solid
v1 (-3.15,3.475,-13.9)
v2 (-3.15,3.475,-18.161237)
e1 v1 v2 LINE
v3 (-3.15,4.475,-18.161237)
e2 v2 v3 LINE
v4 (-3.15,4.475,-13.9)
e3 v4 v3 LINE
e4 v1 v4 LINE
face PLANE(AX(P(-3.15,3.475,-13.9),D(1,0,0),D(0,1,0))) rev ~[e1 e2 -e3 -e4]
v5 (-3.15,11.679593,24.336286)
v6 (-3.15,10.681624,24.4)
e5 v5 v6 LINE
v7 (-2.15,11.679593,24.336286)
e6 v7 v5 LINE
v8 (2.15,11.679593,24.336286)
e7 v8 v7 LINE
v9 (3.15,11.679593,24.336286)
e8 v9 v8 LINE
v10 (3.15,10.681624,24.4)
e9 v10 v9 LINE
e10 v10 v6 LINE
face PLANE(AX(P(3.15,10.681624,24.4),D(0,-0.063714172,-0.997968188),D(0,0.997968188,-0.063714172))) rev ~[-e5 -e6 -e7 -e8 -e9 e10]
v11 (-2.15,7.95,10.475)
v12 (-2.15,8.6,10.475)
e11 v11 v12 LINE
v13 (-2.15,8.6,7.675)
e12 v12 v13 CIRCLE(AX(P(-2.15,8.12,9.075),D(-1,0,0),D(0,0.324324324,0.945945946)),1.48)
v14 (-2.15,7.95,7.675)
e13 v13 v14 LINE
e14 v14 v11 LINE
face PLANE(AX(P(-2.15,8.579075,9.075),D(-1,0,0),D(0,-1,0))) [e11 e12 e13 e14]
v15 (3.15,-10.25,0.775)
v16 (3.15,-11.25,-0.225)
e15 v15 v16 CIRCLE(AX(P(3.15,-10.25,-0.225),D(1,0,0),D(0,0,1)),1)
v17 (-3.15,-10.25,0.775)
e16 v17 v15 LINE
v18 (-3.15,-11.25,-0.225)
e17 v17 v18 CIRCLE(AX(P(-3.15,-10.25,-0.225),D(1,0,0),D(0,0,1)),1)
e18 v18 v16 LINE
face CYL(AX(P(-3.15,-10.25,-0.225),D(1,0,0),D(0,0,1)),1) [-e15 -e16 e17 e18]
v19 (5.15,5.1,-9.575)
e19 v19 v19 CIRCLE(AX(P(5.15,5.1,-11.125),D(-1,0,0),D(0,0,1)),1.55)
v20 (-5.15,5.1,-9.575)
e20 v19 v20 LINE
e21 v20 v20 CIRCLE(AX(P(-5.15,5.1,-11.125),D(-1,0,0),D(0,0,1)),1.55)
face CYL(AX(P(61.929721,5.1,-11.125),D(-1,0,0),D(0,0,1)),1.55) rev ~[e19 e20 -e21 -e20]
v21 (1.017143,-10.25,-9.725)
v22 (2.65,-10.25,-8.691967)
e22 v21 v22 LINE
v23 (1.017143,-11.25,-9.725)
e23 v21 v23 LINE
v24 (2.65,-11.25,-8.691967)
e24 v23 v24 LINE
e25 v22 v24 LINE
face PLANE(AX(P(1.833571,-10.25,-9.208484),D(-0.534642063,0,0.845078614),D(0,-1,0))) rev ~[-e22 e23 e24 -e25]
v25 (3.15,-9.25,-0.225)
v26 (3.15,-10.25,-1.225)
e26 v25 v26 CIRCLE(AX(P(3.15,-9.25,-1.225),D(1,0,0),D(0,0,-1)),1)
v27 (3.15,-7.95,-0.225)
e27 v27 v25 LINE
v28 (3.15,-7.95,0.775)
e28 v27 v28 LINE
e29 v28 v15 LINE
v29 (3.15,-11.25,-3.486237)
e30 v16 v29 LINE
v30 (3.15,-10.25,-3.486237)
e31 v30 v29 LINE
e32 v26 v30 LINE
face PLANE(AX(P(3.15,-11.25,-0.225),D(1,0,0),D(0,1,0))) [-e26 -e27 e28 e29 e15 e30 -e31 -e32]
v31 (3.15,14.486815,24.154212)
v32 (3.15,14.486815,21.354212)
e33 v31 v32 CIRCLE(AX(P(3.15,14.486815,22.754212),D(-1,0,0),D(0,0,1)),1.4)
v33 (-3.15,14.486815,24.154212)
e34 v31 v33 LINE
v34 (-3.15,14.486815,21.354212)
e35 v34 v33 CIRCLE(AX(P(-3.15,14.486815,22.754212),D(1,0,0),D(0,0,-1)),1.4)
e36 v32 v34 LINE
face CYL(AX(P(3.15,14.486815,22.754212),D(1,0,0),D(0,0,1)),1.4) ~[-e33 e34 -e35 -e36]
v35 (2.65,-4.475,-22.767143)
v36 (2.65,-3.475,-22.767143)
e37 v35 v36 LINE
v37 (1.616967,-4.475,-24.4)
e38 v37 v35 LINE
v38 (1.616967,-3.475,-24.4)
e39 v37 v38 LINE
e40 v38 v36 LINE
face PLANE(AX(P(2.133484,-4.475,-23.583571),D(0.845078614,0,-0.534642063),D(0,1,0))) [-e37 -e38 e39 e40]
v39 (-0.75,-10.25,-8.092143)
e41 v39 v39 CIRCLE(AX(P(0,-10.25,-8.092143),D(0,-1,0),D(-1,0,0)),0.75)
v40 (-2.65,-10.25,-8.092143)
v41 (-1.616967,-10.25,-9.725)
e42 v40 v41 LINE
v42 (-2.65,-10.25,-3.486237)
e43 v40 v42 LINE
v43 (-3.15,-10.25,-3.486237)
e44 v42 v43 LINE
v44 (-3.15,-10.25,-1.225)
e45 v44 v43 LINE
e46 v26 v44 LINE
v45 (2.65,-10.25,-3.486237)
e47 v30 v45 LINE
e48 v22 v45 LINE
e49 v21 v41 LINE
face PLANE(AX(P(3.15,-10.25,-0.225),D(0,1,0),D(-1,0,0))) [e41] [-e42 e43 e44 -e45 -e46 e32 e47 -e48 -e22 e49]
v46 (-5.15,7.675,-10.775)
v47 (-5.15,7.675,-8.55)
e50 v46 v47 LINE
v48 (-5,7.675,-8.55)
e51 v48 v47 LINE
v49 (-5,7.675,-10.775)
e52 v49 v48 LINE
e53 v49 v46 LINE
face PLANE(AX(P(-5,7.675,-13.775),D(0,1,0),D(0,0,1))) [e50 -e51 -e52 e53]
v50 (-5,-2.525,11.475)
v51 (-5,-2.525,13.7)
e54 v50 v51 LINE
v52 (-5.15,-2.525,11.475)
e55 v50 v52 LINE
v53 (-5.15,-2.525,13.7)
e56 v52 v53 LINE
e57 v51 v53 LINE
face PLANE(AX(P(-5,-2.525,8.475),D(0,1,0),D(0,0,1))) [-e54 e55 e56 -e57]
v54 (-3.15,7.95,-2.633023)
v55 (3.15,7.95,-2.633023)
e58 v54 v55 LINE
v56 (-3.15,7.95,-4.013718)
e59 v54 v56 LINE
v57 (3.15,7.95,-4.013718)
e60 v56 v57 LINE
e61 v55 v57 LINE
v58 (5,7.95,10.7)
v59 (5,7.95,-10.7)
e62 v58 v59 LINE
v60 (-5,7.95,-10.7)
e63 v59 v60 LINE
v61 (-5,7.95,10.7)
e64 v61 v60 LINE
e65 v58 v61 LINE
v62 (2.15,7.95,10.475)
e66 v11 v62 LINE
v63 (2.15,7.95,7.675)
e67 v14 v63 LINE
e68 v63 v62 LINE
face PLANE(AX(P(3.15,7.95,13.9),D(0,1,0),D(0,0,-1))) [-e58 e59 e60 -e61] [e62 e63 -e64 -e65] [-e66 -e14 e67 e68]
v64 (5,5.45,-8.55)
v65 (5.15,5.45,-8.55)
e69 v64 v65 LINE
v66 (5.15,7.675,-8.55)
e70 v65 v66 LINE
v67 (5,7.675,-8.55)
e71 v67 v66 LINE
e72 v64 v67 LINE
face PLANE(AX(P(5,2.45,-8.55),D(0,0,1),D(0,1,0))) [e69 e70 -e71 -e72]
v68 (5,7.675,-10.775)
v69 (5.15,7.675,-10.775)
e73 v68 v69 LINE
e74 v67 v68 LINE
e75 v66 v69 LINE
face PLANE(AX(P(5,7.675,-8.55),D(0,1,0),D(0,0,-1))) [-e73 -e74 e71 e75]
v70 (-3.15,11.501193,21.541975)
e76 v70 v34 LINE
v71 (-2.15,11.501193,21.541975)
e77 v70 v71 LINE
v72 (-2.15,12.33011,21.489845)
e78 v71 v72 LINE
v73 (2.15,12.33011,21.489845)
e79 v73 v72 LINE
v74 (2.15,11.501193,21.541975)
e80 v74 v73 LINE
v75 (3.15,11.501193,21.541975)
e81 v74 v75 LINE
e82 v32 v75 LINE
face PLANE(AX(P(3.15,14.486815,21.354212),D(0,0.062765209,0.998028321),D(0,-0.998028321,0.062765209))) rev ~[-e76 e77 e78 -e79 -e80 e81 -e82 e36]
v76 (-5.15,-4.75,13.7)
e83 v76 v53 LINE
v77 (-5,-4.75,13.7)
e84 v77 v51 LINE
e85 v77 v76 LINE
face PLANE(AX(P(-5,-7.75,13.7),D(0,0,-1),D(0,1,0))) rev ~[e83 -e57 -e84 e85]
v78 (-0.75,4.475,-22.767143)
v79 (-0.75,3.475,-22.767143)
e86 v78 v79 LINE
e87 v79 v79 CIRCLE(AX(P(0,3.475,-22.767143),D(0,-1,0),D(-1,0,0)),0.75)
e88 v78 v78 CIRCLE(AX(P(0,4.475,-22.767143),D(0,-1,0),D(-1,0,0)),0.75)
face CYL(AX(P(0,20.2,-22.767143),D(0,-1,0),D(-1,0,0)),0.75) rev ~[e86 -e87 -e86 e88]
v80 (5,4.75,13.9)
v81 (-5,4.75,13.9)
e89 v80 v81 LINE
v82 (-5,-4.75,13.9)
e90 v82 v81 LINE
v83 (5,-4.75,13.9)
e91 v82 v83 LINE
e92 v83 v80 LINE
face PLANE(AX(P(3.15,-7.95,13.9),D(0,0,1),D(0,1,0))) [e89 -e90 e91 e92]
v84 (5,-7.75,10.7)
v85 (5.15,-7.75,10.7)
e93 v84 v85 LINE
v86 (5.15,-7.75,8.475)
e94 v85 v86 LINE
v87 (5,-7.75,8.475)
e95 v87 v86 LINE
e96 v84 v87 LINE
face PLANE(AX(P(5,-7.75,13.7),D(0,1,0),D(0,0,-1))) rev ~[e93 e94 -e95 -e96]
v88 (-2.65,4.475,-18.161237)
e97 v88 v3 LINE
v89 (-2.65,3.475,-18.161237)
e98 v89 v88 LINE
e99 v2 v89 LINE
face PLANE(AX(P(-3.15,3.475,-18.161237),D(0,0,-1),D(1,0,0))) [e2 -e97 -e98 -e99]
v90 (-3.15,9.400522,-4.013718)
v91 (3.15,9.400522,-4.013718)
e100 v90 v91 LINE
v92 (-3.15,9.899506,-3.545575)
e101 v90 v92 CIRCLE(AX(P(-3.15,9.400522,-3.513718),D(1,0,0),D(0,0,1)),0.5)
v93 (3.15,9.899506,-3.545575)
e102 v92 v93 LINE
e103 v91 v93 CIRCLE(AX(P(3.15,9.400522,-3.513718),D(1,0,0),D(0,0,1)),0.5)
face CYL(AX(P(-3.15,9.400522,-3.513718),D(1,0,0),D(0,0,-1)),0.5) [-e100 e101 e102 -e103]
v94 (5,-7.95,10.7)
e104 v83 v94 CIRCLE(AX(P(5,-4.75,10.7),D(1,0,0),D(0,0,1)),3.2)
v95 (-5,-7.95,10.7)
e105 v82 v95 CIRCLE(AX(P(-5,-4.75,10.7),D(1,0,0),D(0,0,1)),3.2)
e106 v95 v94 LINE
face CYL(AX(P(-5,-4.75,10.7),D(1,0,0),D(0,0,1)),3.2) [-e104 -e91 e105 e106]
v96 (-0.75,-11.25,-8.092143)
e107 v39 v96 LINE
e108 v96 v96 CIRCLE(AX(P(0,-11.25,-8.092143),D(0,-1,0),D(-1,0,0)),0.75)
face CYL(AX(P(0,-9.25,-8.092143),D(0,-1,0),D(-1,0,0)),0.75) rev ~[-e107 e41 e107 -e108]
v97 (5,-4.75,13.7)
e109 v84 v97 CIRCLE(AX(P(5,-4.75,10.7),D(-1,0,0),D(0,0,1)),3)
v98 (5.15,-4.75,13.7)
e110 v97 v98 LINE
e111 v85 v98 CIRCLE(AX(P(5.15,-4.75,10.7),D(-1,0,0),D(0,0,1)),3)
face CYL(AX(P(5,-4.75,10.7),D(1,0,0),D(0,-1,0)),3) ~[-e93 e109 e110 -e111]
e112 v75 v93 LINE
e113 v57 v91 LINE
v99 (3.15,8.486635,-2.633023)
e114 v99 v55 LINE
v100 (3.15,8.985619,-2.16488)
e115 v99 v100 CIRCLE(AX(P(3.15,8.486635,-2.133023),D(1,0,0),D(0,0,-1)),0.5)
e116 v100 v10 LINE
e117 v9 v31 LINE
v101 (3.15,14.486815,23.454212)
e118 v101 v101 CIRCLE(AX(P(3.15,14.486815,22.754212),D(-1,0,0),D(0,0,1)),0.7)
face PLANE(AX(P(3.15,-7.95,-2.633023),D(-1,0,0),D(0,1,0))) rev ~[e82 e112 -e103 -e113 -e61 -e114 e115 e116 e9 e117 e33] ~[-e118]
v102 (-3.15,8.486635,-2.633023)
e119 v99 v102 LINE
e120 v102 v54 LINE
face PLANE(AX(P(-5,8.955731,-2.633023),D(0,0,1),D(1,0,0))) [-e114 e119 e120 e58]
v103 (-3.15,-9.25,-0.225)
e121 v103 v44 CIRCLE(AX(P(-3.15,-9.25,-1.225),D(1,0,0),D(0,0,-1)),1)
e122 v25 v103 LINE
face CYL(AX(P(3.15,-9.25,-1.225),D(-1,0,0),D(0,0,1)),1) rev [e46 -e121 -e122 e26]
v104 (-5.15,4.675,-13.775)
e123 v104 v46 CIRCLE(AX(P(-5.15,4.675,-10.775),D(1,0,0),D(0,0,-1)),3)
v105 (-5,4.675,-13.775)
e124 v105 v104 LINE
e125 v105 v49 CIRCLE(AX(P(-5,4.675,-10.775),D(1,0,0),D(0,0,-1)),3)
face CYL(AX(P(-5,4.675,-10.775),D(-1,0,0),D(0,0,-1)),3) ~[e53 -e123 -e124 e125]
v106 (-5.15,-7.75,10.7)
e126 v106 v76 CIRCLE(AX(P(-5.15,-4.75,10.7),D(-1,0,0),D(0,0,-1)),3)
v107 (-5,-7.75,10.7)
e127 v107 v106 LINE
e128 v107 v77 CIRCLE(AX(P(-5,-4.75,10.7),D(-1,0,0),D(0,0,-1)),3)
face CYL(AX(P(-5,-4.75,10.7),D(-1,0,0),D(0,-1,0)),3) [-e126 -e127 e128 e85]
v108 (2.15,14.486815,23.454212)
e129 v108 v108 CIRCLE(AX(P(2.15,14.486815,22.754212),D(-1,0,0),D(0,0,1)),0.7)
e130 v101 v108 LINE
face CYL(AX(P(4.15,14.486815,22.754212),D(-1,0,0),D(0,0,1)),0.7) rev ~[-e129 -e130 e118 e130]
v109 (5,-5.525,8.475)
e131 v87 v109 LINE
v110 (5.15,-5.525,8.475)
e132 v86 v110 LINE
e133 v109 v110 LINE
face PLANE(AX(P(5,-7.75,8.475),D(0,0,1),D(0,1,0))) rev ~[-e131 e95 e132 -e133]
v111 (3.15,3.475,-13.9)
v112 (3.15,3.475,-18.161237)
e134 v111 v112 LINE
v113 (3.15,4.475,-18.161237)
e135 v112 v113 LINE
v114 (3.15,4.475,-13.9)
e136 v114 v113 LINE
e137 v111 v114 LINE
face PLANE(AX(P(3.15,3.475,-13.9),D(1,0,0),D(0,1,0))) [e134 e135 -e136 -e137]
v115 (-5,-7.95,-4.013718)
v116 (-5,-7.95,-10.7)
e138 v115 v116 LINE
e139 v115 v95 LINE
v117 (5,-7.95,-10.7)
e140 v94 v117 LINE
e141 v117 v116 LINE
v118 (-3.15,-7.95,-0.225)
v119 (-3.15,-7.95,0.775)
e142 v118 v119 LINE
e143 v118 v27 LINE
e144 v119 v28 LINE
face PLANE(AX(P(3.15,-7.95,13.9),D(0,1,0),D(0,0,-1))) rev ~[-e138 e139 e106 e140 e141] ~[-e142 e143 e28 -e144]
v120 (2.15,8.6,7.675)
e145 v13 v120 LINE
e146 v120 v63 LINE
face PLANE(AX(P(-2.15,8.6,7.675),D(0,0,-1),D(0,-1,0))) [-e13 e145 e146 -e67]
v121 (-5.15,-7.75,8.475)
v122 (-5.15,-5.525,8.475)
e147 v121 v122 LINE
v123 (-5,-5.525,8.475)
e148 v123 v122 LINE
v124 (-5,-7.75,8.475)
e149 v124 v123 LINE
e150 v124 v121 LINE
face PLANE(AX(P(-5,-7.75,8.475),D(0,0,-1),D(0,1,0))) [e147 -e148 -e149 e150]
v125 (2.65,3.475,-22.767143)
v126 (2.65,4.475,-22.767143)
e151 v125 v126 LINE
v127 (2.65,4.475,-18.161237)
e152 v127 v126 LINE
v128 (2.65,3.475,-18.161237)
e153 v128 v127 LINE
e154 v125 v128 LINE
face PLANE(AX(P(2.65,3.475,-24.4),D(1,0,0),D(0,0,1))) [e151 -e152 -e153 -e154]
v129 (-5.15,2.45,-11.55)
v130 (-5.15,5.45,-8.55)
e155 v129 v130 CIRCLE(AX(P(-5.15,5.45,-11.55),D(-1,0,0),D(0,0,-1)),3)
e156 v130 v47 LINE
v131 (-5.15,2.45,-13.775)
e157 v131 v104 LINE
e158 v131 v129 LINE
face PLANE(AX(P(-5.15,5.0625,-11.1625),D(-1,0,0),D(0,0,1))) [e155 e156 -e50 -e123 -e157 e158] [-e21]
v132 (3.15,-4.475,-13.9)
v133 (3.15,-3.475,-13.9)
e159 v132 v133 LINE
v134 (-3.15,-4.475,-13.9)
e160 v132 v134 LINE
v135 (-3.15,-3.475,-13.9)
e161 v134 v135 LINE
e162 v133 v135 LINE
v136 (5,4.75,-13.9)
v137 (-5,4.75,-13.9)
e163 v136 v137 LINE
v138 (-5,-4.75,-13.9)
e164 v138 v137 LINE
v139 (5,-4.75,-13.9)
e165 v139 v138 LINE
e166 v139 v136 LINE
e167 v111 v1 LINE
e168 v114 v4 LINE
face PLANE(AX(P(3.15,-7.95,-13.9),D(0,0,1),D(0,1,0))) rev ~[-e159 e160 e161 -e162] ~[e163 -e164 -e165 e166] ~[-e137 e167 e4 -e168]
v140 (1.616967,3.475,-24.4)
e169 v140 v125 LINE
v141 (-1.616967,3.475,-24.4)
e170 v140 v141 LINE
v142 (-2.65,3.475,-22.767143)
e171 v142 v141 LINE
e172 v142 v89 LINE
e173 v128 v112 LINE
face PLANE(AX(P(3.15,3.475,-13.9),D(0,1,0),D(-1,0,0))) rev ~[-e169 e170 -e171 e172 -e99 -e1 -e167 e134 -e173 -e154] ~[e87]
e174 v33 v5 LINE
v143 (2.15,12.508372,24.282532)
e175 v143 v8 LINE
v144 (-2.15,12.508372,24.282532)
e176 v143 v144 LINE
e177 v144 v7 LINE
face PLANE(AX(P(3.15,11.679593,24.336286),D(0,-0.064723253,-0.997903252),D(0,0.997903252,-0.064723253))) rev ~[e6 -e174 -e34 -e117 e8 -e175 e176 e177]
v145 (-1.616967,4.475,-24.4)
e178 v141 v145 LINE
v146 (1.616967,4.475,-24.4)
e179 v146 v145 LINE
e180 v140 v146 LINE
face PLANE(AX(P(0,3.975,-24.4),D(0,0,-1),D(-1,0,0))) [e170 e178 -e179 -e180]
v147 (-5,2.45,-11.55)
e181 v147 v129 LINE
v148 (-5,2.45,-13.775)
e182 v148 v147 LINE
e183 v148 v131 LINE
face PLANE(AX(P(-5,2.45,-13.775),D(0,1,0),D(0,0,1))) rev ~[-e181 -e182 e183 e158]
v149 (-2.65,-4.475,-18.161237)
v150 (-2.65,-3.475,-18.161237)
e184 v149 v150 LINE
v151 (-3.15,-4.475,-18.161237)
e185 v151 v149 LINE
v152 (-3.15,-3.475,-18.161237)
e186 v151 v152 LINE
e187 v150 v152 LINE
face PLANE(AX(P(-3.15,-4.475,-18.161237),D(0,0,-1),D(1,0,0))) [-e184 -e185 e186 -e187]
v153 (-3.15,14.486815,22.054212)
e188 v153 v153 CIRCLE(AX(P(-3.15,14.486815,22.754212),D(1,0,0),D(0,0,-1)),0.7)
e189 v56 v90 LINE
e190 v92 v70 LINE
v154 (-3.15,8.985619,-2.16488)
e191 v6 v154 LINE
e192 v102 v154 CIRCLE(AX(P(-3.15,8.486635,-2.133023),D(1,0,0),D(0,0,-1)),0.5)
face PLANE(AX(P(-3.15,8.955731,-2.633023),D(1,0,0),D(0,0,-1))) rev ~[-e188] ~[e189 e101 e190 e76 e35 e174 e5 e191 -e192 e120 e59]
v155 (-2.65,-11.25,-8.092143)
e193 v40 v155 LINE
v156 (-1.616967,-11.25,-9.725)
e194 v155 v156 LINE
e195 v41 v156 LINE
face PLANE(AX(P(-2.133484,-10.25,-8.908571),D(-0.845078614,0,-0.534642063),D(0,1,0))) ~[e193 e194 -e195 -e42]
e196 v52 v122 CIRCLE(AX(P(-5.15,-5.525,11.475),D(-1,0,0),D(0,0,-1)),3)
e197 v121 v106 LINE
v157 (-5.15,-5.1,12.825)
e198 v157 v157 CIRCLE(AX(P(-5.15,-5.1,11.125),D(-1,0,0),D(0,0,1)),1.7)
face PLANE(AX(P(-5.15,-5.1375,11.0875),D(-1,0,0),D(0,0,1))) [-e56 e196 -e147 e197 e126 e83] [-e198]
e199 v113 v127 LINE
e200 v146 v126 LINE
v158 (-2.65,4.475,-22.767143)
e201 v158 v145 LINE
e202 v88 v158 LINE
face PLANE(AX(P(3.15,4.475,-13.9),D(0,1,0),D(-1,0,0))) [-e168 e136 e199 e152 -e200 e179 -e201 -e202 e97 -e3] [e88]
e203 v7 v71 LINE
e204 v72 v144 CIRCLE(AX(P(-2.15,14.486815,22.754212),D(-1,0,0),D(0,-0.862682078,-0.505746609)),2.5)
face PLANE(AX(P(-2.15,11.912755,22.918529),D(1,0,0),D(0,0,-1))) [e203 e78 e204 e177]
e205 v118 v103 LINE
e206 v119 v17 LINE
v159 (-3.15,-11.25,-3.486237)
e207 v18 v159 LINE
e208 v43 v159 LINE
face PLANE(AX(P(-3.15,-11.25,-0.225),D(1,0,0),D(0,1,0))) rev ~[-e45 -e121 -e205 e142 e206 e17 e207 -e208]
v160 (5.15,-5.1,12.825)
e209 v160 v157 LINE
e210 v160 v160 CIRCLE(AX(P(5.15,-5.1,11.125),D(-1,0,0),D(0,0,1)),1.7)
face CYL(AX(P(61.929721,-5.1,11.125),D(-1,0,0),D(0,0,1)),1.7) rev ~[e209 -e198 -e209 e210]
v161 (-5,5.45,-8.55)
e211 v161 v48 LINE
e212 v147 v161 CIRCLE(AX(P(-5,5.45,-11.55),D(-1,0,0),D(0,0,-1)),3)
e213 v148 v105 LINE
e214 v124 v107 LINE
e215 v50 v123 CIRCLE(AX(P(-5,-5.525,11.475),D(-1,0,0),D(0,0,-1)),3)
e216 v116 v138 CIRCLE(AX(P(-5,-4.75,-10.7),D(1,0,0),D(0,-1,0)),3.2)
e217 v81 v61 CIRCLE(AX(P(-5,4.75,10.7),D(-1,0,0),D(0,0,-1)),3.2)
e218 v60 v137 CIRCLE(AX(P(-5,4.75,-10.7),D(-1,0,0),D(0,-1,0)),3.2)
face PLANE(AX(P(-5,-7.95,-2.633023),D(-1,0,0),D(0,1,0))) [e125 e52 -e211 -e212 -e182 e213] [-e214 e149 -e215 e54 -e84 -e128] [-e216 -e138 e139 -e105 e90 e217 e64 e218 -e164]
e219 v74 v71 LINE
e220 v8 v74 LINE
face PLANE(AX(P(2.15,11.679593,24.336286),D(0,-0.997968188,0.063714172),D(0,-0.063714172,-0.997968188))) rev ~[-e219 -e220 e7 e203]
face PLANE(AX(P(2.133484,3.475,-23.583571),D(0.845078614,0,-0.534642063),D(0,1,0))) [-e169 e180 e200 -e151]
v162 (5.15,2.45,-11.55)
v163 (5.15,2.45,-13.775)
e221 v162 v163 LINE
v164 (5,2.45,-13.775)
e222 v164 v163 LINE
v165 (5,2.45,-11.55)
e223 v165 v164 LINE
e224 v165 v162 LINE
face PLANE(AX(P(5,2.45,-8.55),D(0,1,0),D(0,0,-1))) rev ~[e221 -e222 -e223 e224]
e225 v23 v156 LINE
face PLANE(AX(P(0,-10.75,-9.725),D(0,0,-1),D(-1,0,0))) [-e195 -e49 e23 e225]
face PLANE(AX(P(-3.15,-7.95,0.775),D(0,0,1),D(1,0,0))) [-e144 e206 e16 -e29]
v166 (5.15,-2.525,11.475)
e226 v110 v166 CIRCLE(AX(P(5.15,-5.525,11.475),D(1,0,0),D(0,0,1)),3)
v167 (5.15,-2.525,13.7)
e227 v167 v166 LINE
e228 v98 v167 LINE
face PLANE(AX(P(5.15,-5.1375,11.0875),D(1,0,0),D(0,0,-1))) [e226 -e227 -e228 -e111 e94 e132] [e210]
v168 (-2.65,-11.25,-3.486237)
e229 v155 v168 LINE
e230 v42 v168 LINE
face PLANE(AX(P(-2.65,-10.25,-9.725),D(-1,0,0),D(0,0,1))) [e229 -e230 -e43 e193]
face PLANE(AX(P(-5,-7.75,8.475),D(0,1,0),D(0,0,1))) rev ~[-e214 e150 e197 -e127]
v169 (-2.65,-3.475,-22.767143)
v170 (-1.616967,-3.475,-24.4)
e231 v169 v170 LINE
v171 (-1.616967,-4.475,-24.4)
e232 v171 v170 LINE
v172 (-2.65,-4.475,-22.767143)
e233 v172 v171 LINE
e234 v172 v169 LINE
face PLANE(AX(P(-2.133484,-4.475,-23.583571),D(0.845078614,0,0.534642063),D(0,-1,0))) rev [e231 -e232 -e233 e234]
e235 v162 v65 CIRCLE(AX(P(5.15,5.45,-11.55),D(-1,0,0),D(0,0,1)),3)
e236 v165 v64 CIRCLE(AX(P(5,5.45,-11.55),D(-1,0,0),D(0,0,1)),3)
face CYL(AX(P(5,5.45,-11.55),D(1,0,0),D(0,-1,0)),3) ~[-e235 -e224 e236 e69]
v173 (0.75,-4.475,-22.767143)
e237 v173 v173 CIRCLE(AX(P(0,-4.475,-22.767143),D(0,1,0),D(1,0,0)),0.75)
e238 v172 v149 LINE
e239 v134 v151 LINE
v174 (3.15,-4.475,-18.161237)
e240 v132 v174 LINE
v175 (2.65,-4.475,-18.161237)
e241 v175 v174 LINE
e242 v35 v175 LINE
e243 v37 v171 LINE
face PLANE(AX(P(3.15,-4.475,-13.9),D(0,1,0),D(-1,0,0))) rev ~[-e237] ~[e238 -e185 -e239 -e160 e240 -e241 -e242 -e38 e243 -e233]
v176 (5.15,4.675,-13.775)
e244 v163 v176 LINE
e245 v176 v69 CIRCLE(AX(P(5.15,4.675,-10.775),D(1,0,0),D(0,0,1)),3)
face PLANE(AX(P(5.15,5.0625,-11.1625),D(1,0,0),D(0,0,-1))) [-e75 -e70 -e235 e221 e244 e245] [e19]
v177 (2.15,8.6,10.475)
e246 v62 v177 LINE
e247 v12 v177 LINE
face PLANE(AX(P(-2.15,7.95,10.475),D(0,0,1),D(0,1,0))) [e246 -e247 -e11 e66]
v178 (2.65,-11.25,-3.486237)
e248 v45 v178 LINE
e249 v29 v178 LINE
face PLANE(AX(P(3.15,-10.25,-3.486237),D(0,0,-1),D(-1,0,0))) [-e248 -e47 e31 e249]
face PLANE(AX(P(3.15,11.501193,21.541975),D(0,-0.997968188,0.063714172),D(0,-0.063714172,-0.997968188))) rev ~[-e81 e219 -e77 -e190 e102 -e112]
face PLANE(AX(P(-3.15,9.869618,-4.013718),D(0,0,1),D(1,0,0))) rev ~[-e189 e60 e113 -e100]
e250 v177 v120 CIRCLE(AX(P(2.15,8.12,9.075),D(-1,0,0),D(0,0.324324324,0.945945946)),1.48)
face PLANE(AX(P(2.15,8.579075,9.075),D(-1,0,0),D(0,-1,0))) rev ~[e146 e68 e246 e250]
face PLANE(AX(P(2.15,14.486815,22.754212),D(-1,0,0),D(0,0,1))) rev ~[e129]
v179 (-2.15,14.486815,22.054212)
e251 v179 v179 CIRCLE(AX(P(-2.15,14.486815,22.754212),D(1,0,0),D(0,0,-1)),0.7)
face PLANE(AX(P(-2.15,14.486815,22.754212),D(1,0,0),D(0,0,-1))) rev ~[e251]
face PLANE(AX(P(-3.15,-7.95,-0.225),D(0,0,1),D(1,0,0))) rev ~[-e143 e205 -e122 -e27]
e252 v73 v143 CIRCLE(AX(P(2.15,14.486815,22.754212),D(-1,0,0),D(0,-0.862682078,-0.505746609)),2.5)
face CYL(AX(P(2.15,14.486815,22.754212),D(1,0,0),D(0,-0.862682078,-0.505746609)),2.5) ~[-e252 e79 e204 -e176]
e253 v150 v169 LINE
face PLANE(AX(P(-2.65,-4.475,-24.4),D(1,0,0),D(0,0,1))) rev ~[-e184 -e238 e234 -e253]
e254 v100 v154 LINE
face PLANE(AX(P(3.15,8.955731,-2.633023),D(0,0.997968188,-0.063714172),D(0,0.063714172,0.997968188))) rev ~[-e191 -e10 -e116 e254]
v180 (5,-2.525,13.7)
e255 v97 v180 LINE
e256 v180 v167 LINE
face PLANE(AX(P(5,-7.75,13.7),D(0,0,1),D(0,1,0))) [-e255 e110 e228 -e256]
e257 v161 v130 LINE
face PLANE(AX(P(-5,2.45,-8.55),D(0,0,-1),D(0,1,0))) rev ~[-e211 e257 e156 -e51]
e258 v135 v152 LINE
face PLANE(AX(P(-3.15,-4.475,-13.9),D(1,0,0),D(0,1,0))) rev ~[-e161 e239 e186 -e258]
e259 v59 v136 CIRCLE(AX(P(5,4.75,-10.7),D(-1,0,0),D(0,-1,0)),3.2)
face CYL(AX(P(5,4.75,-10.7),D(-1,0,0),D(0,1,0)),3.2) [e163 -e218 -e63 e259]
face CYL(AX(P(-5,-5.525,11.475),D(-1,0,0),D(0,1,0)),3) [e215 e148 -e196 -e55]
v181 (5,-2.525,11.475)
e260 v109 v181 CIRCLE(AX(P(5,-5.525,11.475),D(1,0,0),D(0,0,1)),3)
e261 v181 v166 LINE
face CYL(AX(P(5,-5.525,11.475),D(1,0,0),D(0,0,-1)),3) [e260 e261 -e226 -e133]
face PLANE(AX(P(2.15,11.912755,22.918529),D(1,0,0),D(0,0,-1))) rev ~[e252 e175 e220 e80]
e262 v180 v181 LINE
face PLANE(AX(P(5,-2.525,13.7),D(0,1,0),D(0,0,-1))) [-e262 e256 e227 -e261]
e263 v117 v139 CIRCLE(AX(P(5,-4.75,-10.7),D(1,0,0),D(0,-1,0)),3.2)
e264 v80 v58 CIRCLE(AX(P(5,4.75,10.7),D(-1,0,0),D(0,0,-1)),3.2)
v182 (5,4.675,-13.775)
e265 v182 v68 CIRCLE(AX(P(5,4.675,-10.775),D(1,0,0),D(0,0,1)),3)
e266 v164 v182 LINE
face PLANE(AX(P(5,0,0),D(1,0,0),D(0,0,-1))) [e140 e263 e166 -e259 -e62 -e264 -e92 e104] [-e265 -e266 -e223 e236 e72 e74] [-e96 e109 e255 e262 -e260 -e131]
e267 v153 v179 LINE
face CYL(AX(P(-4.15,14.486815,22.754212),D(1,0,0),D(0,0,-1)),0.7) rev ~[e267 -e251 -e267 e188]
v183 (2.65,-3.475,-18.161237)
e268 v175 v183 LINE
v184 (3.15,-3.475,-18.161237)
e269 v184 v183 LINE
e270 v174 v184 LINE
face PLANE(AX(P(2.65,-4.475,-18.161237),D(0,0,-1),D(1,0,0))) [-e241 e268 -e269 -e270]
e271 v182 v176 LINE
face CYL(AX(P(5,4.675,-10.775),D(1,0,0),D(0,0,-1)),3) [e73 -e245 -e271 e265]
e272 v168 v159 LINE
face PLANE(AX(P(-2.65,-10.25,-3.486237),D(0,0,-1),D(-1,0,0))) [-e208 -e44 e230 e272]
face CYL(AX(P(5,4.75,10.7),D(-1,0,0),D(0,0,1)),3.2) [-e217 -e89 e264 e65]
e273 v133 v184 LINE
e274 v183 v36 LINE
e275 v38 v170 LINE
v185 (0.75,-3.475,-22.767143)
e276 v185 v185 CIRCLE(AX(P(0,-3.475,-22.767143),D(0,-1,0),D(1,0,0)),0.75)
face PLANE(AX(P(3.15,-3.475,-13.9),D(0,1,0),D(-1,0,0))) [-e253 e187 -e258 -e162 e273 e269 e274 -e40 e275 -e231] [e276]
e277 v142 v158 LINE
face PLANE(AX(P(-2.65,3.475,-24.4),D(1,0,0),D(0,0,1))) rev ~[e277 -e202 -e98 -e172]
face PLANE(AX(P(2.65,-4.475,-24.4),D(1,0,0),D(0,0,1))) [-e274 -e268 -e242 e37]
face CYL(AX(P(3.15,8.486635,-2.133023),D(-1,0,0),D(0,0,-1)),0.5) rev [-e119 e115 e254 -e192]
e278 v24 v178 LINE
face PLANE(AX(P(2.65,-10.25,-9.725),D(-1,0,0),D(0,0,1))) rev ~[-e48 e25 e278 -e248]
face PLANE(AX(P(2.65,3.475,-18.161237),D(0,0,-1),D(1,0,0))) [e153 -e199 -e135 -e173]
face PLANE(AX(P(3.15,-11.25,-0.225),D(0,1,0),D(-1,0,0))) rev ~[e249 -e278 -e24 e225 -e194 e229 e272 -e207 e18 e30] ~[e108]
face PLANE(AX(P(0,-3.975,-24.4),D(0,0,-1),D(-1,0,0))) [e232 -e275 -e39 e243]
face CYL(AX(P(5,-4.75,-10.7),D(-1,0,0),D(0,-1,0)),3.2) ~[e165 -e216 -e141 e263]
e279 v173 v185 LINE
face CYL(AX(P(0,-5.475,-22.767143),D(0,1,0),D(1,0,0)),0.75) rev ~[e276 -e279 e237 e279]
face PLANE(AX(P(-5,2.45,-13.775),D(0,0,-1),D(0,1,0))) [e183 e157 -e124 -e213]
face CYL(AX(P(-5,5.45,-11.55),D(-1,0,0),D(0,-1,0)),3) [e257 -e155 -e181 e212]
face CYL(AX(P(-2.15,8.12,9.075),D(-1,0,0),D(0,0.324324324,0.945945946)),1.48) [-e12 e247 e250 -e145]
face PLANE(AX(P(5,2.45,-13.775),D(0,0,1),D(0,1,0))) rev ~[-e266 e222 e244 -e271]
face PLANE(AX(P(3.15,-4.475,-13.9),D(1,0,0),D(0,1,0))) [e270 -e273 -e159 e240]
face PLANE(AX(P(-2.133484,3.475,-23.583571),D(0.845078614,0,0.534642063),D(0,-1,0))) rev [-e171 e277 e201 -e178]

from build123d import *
from OCP.BRepFilletAPI import BRepFilletAPI_MakeChamfer

# Parameters (mm, degrees)
BOSS_EXTRUDE1_DEPTH        = 4.3
BOSS_EXTRUDE2_DEPTH        = 1
BOSS_EXTRUDE3_START        = 1
BOSS_EXTRUDE3_DEPTH        = 1
CUT_EXTRUDE1_DEPTH         = 4.3
SKETCH5_W                  = 1.380694599
SKETCH5_H                  = 0.913887033
BOSS_EXTRUDE4_DEPTH        = 1.85
SKETCH6_W                  = 8.15
SKETCH6_H                  = 1.380694599
BOSS_EXTRUDE5_DEPTH        = 16.905731032
SKETCH7_W                  = 8.15
SKETCH7_H                  = 17.819618065
BOSS_EXTRUDE6_DEPTH        = 9.886282081
CUT_EXTRUDE2_DEPTH         = 0.913887033
CUT_EXTRUDE3_DEPTH         = 1.005731032
SKETCH10_W                 = 8.15
SKETCH10_H                 = 15.9
BOSS_EXTRUDE7_DEPTH        = 16.53302332
SKETCH11_W                 = 27.8
SKETCH11_H                 = 15.9
BOSS_EXTRUDE8_DEPTH        = 1.85
SKETCH12_W                 = 6.3
SKETCH12_H                 = 1
BOSS_EXTRUDE9_DEPTH        = 3.3
SKETCH13_W                 = 6.3
SKETCH13_H                 = 1
BOSS_EXTRUDE10_DEPTH       = 9.5
SKETCH14_W                 = 0.5
SKETCH14_H                 = 6.238763167
CUT_EXTRUDE4_DEPTH         = 37.103920655
SKETCH15_W                 = 0.5
SKETCH15_H                 = 6.238763167
CUT_EXTRUDE5_DEPTH         = 37.103920655
SKETCH16_W                 = 6.3
SKETCH16_H                 = 1
BOSS_EXTRUDE11_DEPTH       = 10.5
SKETCH17_W                 = 0.5
SKETCH17_H                 = 6.238763167
CUT_EXTRUDE6_DEPTH         = 29.934160174
SKETCH18_W                 = 0.5
SKETCH18_H                 = 6.238763167
CUT_EXTRUDE7_DEPTH         = 29.934160174
SKETCH19_W                 = 6.3
SKETCH19_H                 = 1
BOSS_EXTRUDE12_DEPTH       = 10.5
SKETCH20_W                 = 0.5
SKETCH20_H                 = 6.238763167
CUT_EXTRUDE8_DEPTH         = 33.170848621
SKETCH21_W                 = 0.5
SKETCH21_H                 = 6.238763167
CUT_EXTRUDE9_DEPTH         = 33.170848621
SKETCH22_W                 = 5.225
SKETCH22_H                 = 5.225
BOSS_EXTRUDE13_DEPTH       = 0.15
SKETCH23_W                 = 5.225
SKETCH23_H                 = 5.225
BOSS_EXTRUDE14_DEPTH       = 0.15
BOSS_EXTRUDE15_DEPTH       = 4.3
SKETCH25_W                 = 5.225
SKETCH25_H                 = 5.225
BOSS_EXTRUDE16_DEPTH       = 0.15
SKETCH26_W                 = 5.225
SKETCH26_H                 = 5.225
BOSS_EXTRUDE17_DEPTH       = 0.15
F_00_CLEARANCE_HOLE1_D     = 1.5
F_00_CLEARANCE_HOLE1_DEPTH = 1
F_00_CLEARANCE_HOLE2_D     = 1.5
F_00_CLEARANCE_HOLE2_DEPTH = 15.725
F_4_CLEARANCE_HOLE1_D      = 3.1
F_4_CLEARANCE_HOLE2_D      = 3.4
F_00_CLEARANCE_HOLE3_D     = 1.5
F_00_CLEARANCE_HOLE3_DEPTH = 1
F_00_CLEARANCE_HOLE4_D     = 1.4
F_00_CLEARANCE_HOLE4_DEPTH = 1
F_00_CLEARANCE_HOLE5_D     = 1.4
F_00_CLEARANCE_HOLE5_DEPTH = 1
CHAMFER1_SIZE              = 1.632857048
CHAMFER1_SIZE2             = 1.033032958
CHAMFER2_SIZE              = 1.033032958
CHAMFER2_SIZE2             = 1.632857048
CHAMFER3_SIZE              = 1.632857048
CHAMFER3_SIZE2             = 1.033032958
FILLET1_R                  = 0.5
FILLET2_R                  = 1
FILLET3_R                  = 3
FILLET4_R                  = 3.2


with BuildPart() as part:
    # Sketch1 → Boss-Extrude1 (new body)
    with BuildSketch(Plane(origin=(2.15, 0, 0), x_dir=(0, 0, -1), z_dir=(1, 0, 0))):
        with BuildLine():
            Line((2.63302332, 8.955731032), (4.013717919, 8.955731032))
            Line((4.013717919, 8.955731032), (4.013717919, 9.869618065))
            Line((4.013717919, 9.869618065), (-21.541974901, 11.501192936))
            Line((-21.541974901, 11.501192936), (-21.354211514, 14.486814776))
            ThreePointArc((-21.354211514, 14.486814776), (-22.754211514, 15.886814776), (-24.154211514, 14.486814776))
            Line((-24.154211514, 14.486814776), (-24.336285828, 11.679592619))
            Line((-24.336285828, 11.679592619), (-24.4, 10.681624431))
            Line((-24.4, 10.681624431), (2.63302332, 8.955731032))
        make_face()
    extrude(amount=-BOSS_EXTRUDE1_DEPTH)

    # Sketch2 → Boss-Extrude2 (add)
    with BuildSketch(Plane.ZY.offset(2.15)):
        with BuildLine():
            Line((-2.63302332, 8.955731032), (-4.013717919, 8.955731032))
            Line((-4.013717919, 8.955731032), (-4.013717919, 9.869618065))
            Line((-4.013717919, 9.869618065), (21.541974901, 11.501192936))
            Line((21.541974901, 11.501192936), (21.354211514, 14.486814776))
            ThreePointArc((21.354211514, 14.486814776), (22.754211514, 15.886814776), (24.154211514, 14.486814776))
            Line((24.154211514, 14.486814776), (24.336285828, 11.679592619))
            Line((24.336285828, 11.679592619), (24.4, 10.681624431))
            Line((24.4, 10.681624431), (-2.63302332, 8.955731032))
        make_face()
    extrude(amount=BOSS_EXTRUDE2_DEPTH)

    # Sketch3 → Boss-Extrude3 (add)
    with BuildSketch(Plane(origin=(2.15, 0, 0), x_dir=(0, 0, -1), z_dir=(1, 0, 0)).offset(BOSS_EXTRUDE3_START)):
        with BuildLine():
            Line((4.013717919, 8.955731032), (2.63302332, 8.955731032))
            Line((2.63302332, 8.955731032), (-24.4, 10.681624431))
            Line((-24.4, 10.681624431), (-24.336285828, 11.679592619))
            Line((-24.336285828, 11.679592619), (-24.154211514, 14.486814776))
            ThreePointArc((-24.154211514, 14.486814776), (-22.754211514, 15.886814776), (-21.354211514, 14.486814776))
            Line((-21.354211514, 14.486814776), (-21.541974901, 11.501192936))
            Line((-21.541974901, 11.501192936), (4.013717919, 9.869618065))
            Line((4.013717919, 9.869618065), (4.013717919, 8.955731032))
        make_face()
    extrude(amount=-BOSS_EXTRUDE3_DEPTH)

    # Sketch4 → Cut-Extrude1 (cut)
    with BuildSketch(Plane(origin=(2.15, 0, 0), x_dir=(0, 0, -1), z_dir=(1, 0, 0))):
        with BuildLine():
            Line((-24.28253184, 12.508371707), (-24.336285828, 11.679592619))
            Line((-24.336285828, 11.679592619), (-21.541974901, 11.501192936))
            Line((-21.541974901, 11.501192936), (-21.489844991, 12.330109582))
            ThreePointArc((-21.489844991, 12.330109582), (-22.913466809, 11.991892383), (-24.28253184, 12.508371707))
        make_face()
    extrude(amount=-CUT_EXTRUDE1_DEPTH, mode=Mode.SUBTRACT)

    # Sketch5 → Boss-Extrude4 (add)
    with BuildSketch(Plane.ZY.offset(3.15)):
        with Locations((-3.32337062, 9.412674549)):
            Rectangle(SKETCH5_W, SKETCH5_H)
    extrude(amount=BOSS_EXTRUDE4_DEPTH)

    # Sketch6 → Boss-Extrude5 (add)
    with BuildSketch(Plane.XZ.offset(-8.955731032)):
        with Locations((-0.925, -3.32337062)):
            Rectangle(SKETCH6_W, SKETCH6_H)
    extrude(amount=BOSS_EXTRUDE5_DEPTH)

    # Sketch7 → Boss-Extrude6 (add)
    with BuildSketch(Plane(origin=(0, 0, -4.013717919), x_dir=(-1, 0, 0), z_dir=(0, 0, -1))):
        with Locations((0.925, 0.959809033)):
            Rectangle(SKETCH7_W, SKETCH7_H)
    extrude(amount=BOSS_EXTRUDE6_DEPTH)

    # Sketch8 → Cut-Extrude2 (cut)
    with BuildSketch(Plane(origin=(0, 9.869618065, 0), x_dir=(-1, 0, 0), z_dir=(0, 1, 0))):
        Polygon((5, -13.9), (5, -2.63302332), (3.15, -2.63302332), (3.15, -4.013717919), (-3.15, -4.013717919), (-3.15, -13.9), align=None)
    extrude(amount=-CUT_EXTRUDE2_DEPTH, mode=Mode.SUBTRACT)

    # Sketch9 → Cut-Extrude3 (cut)
    with BuildSketch(Plane(origin=(0, 8.955731032, 0), x_dir=(-1, 0, 0), z_dir=(0, 1, 0))):
        Polygon((5, -13.9), (5, -2.63302332), (3.15, -2.63302332), (3.15, -4.013717919), (-3.15, -4.013717919), (-3.15, -13.9), align=None)
    extrude(amount=-CUT_EXTRUDE3_DEPTH, mode=Mode.SUBTRACT)

    # Sketch10 → Boss-Extrude7 (add)
    with BuildSketch(Plane.XY.offset(-2.63302332)):
        with Locations((-0.925, 0)):
            Rectangle(SKETCH10_W, SKETCH10_H)
    extrude(amount=BOSS_EXTRUDE7_DEPTH)

    # Sketch11 → Boss-Extrude8 (add)
    with BuildSketch(Plane(origin=(3.15, 0, 0), x_dir=(0, 0, -1), z_dir=(1, 0, 0))):
        Rectangle(SKETCH11_W, SKETCH11_H)
    extrude(amount=BOSS_EXTRUDE8_DEPTH)

    # Sketch12 → Boss-Extrude9 (add)
    with BuildSketch(Plane.XZ.offset(7.95)):
        with Locations((0, 0.275)):
            Rectangle(SKETCH12_W, SKETCH12_H)
    extrude(amount=BOSS_EXTRUDE9_DEPTH)

    # Sketch13 → Boss-Extrude10 (add)
    with BuildSketch(Plane(origin=(0, 0, -0.225), x_dir=(-1, 0, 0), z_dir=(0, 0, -1))):
        with Locations((0, -10.75)):
            Rectangle(SKETCH13_W, SKETCH13_H)
    extrude(amount=BOSS_EXTRUDE10_DEPTH)

    # Sketch14 → Cut-Extrude4 (cut, through all)
    with BuildSketch(Plane(origin=(0, -10.25, 0), x_dir=(-1, 0, 0), z_dir=(0, 1, 0))):
        with Locations((2.9, -6.605618417)):
            Rectangle(SKETCH14_W, SKETCH14_H)
    extrude(amount=-CUT_EXTRUDE4_DEPTH, mode=Mode.SUBTRACT)

    # Sketch15 → Cut-Extrude5 (cut, through all)
    with BuildSketch(Plane(origin=(0, -10.25, 0), x_dir=(-1, 0, 0), z_dir=(0, 1, 0))):
        with Locations((-2.9, -6.605618417)):
            Rectangle(SKETCH15_W, SKETCH15_H)
    extrude(amount=-CUT_EXTRUDE5_DEPTH, mode=Mode.SUBTRACT)

    # Sketch16 → Boss-Extrude11 (add)
    with BuildSketch(Plane(origin=(0, 0, -13.9), x_dir=(-1, 0, 0), z_dir=(0, 0, -1))):
        with Locations((0, 3.975)):
            Rectangle(SKETCH16_W, SKETCH16_H)
    extrude(amount=BOSS_EXTRUDE11_DEPTH)

    # Sketch17 → Cut-Extrude6 (cut, through all)
    with BuildSketch(Plane.XZ.offset(-3.475)):
        with Locations((2.9, -21.280618417)):
            Rectangle(SKETCH17_W, SKETCH17_H)
    extrude(amount=-CUT_EXTRUDE6_DEPTH, mode=Mode.SUBTRACT)

    # Sketch18 → Cut-Extrude7 (cut, through all)
    with BuildSketch(Plane.XZ.offset(-3.475)):
        with Locations((-2.9, -21.280618417)):
            Rectangle(SKETCH18_W, SKETCH18_H)
    extrude(amount=-CUT_EXTRUDE7_DEPTH, mode=Mode.SUBTRACT)

    # Sketch19 → Boss-Extrude12 (add)
    with BuildSketch(Plane(origin=(0, 0, -13.9), x_dir=(-1, 0, 0), z_dir=(0, 0, -1))):
        with Locations((0, -3.975)):
            Rectangle(SKETCH19_W, SKETCH19_H)
    extrude(amount=BOSS_EXTRUDE12_DEPTH)

    # Sketch20 → Cut-Extrude8 (cut, through all)
    with BuildSketch(Plane.XZ.offset(4.475)):
        with Locations((2.9, -21.280618417)):
            Rectangle(SKETCH20_W, SKETCH20_H)
    extrude(amount=-CUT_EXTRUDE8_DEPTH, mode=Mode.SUBTRACT)

    # Sketch21 → Cut-Extrude9 (cut, through all)
    with BuildSketch(Plane.XZ.offset(4.475)):
        with Locations((-2.9, -21.280618417)):
            Rectangle(SKETCH21_W, SKETCH21_H)
    extrude(amount=-CUT_EXTRUDE9_DEPTH, mode=Mode.SUBTRACT)

    # Sketch22 → Boss-Extrude13 (add)
    with BuildSketch(Plane.ZY.offset(5)):
        with Locations((-11.1625, 5.0625)):
            Rectangle(SKETCH22_W, SKETCH22_H)
    extrude(amount=BOSS_EXTRUDE13_DEPTH)

    # Sketch23 → Boss-Extrude14 (add)
    with BuildSketch(Plane.ZY.offset(5)):
        with Locations((11.0875, -5.1375)):
            Rectangle(SKETCH23_W, SKETCH23_H)
    extrude(amount=BOSS_EXTRUDE14_DEPTH)

    # Sketch24 → Boss-Extrude15 (add)
    with BuildSketch(Plane(origin=(-2.15, 0, 0), x_dir=(0, -1, 0), z_dir=(-1, 0, 0))):
        with BuildLine():
            Line((-8.6, 7.675), (-7.95, 7.675))
            Line((-7.95, 7.675), (-7.95, 10.475))
            Line((-7.95, 10.475), (-8.6, 10.475))
            ThreePointArc((-8.6, 10.475), (-9.6, 9.075), (-8.6, 7.675))
        make_face()
    extrude(amount=-BOSS_EXTRUDE15_DEPTH)

    # Sketch25 → Boss-Extrude16 (add)
    with BuildSketch(Plane(origin=(5, 0, 0), x_dir=(0, 0, -1), z_dir=(1, 0, 0))):
        with Locations((-11.0875, -5.1375)):
            Rectangle(SKETCH25_W, SKETCH25_H)
    extrude(amount=BOSS_EXTRUDE16_DEPTH)

    # Sketch26 → Boss-Extrude17 (add)
    with BuildSketch(Plane(origin=(5, 0, 0), x_dir=(0, 0, -1), z_dir=(1, 0, 0))):
        with Locations((11.1625, 5.0625)):
            Rectangle(SKETCH26_W, SKETCH26_H)
    extrude(amount=BOSS_EXTRUDE17_DEPTH)

    # #00 Clearance Hole1
    with Locations(Plane(origin=(0, -4.475, 0), x_dir=(-1, 0, 0), z_dir=(0, -1, 0))):
        with Locations((0, 22.767142952)):
            Hole(F_00_CLEARANCE_HOLE1_D / 2, depth=F_00_CLEARANCE_HOLE1_DEPTH)

    # #00 Clearance Hole2
    with Locations(Plane(origin=(0, 4.475, 0), x_dir=(1, 0, 0), z_dir=(0, 1, 0))):
        with Locations((0, 22.767142952)):
            Hole(F_00_CLEARANCE_HOLE2_D / 2, depth=F_00_CLEARANCE_HOLE2_DEPTH)

    # #4 Clearance Hole1 (through all)
    with Locations(Plane(origin=(5.15, 0, 0), x_dir=(0, 0, -1), z_dir=(1, 0, 0))):
        with Locations((11.125, 5.1)):
            Hole(F_4_CLEARANCE_HOLE1_D / 2)

    # #4 Clearance Hole2 (through all)
    with Locations(Plane(origin=(5.15, 0, 0), x_dir=(0, 0, -1), z_dir=(1, 0, 0))):
        with Locations((-11.125, -5.1)):
            Hole(F_4_CLEARANCE_HOLE2_D / 2)

    # #00 Clearance Hole3
    with Locations(Plane(origin=(0, -10.25, 0), x_dir=(1, 0, 0), z_dir=(0, 1, 0))):
        with Locations((0, 8.092142952)):
            Hole(F_00_CLEARANCE_HOLE3_D / 2, depth=F_00_CLEARANCE_HOLE3_DEPTH)

    # #00 Clearance Hole4
    with Locations(Plane(origin=(3.15, 0, 0), x_dir=(0, 0, -1), z_dir=(1, 0, 0))):
        with Locations((-22.754211514, 14.486814776)):
            Hole(F_00_CLEARANCE_HOLE4_D / 2, depth=F_00_CLEARANCE_HOLE4_DEPTH)

    # #00 Clearance Hole5
    with Locations(Plane.ZY.offset(3.15)):
        with Locations((22.754211514, 14.486814776)):
            Hole(F_00_CLEARANCE_HOLE5_D / 2, depth=F_00_CLEARANCE_HOLE5_DEPTH)

    # Chamfer1: one chamfer whose edges measure the first distance from different faces: ONE call of the kernel's chamfer builder (chamfer() names one face for all edges)
    chamfer1_edges_1 = [part.edges().sort_by_distance(p)[0] for p in [
        (-2.65, 3.975, -24.4),
    ]]
    chamfer1_side_1 = [part.faces().sort_by_distance(p)[0] for p in [
        (-2.65, 3.975, -21.280618417),
    ]]
    chamfer1_edges_2 = [part.edges().sort_by_distance(p)[0] for p in [
        (-2.65, -3.975, -24.4),
    ]]
    chamfer1_side_2 = [part.faces().sort_by_distance(p)[0] for p in [
        (-2.65, -3.975, -21.280618417),
    ]]
    chamfer1 = BRepFilletAPI_MakeChamfer(part.part.solid().wrapped)
    for e in chamfer1_edges_1:
        chamfer1.Add(CHAMFER1_SIZE, CHAMFER1_SIZE2, e.wrapped, chamfer1_side_1[0].wrapped)  # the first distance lies on this face
    for e in chamfer1_edges_2:
        chamfer1.Add(CHAMFER1_SIZE, CHAMFER1_SIZE2, e.wrapped, chamfer1_side_2[0].wrapped)  # the first distance lies on this face
    add(Compound.cast(chamfer1.Shape()), mode=Mode.REPLACE)

    # Chamfer2: one chamfer whose edges measure the first distance from different faces: ONE call of the kernel's chamfer builder (chamfer() names one face for all edges)
    chamfer2_edges_1 = [part.edges().sort_by_distance(p)[0] for p in [
        (2.65, 3.975, -24.4),
    ]]
    chamfer2_side_1 = [part.faces().sort_by_distance(p)[0] for p in [
        (0.516516479, 3.975, -24.4),
    ]]
    chamfer2_edges_2 = [part.edges().sort_by_distance(p)[0] for p in [
        (2.65, -3.975, -24.4),
    ]]
    chamfer2_side_2 = [part.faces().sort_by_distance(p)[0] for p in [
        (0.516516479, -3.975, -24.4),
    ]]
    chamfer2 = BRepFilletAPI_MakeChamfer(part.part.solid().wrapped)
    for e in chamfer2_edges_1:
        chamfer2.Add(CHAMFER2_SIZE, CHAMFER2_SIZE2, e.wrapped, chamfer2_side_1[0].wrapped)  # the first distance lies on this face
    for e in chamfer2_edges_2:
        chamfer2.Add(CHAMFER2_SIZE, CHAMFER2_SIZE2, e.wrapped, chamfer2_side_2[0].wrapped)  # the first distance lies on this face
    add(Compound.cast(chamfer2.Shape()), mode=Mode.REPLACE)

    # Chamfer3: one chamfer whose edges measure the first distance from different faces: ONE call of the kernel's chamfer builder (chamfer() names one face for all edges)
    chamfer3_edges_1 = [part.edges().sort_by_distance(p)[0] for p in [
        (-2.65, -10.75, -9.725),
    ]]
    chamfer3_side_1 = [part.faces().sort_by_distance(p)[0] for p in [
        (-2.65, -10.75, -6.605618417),
    ]]
    chamfer3_edges_2 = [part.edges().sort_by_distance(p)[0] for p in [
        (2.65, -10.75, -9.725),
    ]]
    chamfer3_side_2 = [part.faces().sort_by_distance(p)[0] for p in [
        (0, -10.75, -9.725),
    ]]
    chamfer3 = BRepFilletAPI_MakeChamfer(part.part.solid().wrapped)
    for e in chamfer3_edges_1:
        chamfer3.Add(CHAMFER3_SIZE, CHAMFER3_SIZE2, e.wrapped, chamfer3_side_1[0].wrapped)  # the first distance lies on this face
    for e in chamfer3_edges_2:
        chamfer3.Add(CHAMFER3_SIZE, CHAMFER3_SIZE2, e.wrapped, chamfer3_side_2[0].wrapped)  # the first distance lies on this face
    add(Compound.cast(chamfer3.Shape()), mode=Mode.REPLACE)

    # Fillet1
    fillet1_edges = [part.edges().sort_by_distance(p)[0] for p in [
        (0, 9.869618065, -4.013717919),
        (0, 8.955731032, -2.63302332),
    ]]
    fillet(fillet1_edges, radius=FILLET1_R)

    # Fillet2
    fillet2_edges = [part.edges().sort_by_distance(p)[0] for p in [
        (0, -11.25, 0.775),
        (0, -10.25, -0.225),
    ]]
    fillet(fillet2_edges, radius=FILLET2_R)

    # Fillet3
    fillet3_edges = [part.edges().sort_by_distance(p)[0] for p in [
        (-5.075, 2.45, -8.55),
        (-5.075, 7.675, -13.775),
        (-5.075, -7.75, 13.7),
        (-5.075, -2.525, 8.475),
        (5.075, -7.75, 13.7),
        (5.075, -2.525, 8.475),
        (5.075, 2.45, -8.55),
        (5.075, 7.675, -13.775),
    ]]
    fillet(fillet3_edges, radius=FILLET3_R)

    # Fillet4
    fillet4_edges = [part.edges().sort_by_distance(p)[0] for p in [
        (0, -7.95, -13.9),
        (0, 7.95, -13.9),
        (0, 7.95, 13.9),
        (0, -7.95, 13.9),
    ]]
    fillet(fillet4_edges, radius=FILLET4_R)


solid = part.part
